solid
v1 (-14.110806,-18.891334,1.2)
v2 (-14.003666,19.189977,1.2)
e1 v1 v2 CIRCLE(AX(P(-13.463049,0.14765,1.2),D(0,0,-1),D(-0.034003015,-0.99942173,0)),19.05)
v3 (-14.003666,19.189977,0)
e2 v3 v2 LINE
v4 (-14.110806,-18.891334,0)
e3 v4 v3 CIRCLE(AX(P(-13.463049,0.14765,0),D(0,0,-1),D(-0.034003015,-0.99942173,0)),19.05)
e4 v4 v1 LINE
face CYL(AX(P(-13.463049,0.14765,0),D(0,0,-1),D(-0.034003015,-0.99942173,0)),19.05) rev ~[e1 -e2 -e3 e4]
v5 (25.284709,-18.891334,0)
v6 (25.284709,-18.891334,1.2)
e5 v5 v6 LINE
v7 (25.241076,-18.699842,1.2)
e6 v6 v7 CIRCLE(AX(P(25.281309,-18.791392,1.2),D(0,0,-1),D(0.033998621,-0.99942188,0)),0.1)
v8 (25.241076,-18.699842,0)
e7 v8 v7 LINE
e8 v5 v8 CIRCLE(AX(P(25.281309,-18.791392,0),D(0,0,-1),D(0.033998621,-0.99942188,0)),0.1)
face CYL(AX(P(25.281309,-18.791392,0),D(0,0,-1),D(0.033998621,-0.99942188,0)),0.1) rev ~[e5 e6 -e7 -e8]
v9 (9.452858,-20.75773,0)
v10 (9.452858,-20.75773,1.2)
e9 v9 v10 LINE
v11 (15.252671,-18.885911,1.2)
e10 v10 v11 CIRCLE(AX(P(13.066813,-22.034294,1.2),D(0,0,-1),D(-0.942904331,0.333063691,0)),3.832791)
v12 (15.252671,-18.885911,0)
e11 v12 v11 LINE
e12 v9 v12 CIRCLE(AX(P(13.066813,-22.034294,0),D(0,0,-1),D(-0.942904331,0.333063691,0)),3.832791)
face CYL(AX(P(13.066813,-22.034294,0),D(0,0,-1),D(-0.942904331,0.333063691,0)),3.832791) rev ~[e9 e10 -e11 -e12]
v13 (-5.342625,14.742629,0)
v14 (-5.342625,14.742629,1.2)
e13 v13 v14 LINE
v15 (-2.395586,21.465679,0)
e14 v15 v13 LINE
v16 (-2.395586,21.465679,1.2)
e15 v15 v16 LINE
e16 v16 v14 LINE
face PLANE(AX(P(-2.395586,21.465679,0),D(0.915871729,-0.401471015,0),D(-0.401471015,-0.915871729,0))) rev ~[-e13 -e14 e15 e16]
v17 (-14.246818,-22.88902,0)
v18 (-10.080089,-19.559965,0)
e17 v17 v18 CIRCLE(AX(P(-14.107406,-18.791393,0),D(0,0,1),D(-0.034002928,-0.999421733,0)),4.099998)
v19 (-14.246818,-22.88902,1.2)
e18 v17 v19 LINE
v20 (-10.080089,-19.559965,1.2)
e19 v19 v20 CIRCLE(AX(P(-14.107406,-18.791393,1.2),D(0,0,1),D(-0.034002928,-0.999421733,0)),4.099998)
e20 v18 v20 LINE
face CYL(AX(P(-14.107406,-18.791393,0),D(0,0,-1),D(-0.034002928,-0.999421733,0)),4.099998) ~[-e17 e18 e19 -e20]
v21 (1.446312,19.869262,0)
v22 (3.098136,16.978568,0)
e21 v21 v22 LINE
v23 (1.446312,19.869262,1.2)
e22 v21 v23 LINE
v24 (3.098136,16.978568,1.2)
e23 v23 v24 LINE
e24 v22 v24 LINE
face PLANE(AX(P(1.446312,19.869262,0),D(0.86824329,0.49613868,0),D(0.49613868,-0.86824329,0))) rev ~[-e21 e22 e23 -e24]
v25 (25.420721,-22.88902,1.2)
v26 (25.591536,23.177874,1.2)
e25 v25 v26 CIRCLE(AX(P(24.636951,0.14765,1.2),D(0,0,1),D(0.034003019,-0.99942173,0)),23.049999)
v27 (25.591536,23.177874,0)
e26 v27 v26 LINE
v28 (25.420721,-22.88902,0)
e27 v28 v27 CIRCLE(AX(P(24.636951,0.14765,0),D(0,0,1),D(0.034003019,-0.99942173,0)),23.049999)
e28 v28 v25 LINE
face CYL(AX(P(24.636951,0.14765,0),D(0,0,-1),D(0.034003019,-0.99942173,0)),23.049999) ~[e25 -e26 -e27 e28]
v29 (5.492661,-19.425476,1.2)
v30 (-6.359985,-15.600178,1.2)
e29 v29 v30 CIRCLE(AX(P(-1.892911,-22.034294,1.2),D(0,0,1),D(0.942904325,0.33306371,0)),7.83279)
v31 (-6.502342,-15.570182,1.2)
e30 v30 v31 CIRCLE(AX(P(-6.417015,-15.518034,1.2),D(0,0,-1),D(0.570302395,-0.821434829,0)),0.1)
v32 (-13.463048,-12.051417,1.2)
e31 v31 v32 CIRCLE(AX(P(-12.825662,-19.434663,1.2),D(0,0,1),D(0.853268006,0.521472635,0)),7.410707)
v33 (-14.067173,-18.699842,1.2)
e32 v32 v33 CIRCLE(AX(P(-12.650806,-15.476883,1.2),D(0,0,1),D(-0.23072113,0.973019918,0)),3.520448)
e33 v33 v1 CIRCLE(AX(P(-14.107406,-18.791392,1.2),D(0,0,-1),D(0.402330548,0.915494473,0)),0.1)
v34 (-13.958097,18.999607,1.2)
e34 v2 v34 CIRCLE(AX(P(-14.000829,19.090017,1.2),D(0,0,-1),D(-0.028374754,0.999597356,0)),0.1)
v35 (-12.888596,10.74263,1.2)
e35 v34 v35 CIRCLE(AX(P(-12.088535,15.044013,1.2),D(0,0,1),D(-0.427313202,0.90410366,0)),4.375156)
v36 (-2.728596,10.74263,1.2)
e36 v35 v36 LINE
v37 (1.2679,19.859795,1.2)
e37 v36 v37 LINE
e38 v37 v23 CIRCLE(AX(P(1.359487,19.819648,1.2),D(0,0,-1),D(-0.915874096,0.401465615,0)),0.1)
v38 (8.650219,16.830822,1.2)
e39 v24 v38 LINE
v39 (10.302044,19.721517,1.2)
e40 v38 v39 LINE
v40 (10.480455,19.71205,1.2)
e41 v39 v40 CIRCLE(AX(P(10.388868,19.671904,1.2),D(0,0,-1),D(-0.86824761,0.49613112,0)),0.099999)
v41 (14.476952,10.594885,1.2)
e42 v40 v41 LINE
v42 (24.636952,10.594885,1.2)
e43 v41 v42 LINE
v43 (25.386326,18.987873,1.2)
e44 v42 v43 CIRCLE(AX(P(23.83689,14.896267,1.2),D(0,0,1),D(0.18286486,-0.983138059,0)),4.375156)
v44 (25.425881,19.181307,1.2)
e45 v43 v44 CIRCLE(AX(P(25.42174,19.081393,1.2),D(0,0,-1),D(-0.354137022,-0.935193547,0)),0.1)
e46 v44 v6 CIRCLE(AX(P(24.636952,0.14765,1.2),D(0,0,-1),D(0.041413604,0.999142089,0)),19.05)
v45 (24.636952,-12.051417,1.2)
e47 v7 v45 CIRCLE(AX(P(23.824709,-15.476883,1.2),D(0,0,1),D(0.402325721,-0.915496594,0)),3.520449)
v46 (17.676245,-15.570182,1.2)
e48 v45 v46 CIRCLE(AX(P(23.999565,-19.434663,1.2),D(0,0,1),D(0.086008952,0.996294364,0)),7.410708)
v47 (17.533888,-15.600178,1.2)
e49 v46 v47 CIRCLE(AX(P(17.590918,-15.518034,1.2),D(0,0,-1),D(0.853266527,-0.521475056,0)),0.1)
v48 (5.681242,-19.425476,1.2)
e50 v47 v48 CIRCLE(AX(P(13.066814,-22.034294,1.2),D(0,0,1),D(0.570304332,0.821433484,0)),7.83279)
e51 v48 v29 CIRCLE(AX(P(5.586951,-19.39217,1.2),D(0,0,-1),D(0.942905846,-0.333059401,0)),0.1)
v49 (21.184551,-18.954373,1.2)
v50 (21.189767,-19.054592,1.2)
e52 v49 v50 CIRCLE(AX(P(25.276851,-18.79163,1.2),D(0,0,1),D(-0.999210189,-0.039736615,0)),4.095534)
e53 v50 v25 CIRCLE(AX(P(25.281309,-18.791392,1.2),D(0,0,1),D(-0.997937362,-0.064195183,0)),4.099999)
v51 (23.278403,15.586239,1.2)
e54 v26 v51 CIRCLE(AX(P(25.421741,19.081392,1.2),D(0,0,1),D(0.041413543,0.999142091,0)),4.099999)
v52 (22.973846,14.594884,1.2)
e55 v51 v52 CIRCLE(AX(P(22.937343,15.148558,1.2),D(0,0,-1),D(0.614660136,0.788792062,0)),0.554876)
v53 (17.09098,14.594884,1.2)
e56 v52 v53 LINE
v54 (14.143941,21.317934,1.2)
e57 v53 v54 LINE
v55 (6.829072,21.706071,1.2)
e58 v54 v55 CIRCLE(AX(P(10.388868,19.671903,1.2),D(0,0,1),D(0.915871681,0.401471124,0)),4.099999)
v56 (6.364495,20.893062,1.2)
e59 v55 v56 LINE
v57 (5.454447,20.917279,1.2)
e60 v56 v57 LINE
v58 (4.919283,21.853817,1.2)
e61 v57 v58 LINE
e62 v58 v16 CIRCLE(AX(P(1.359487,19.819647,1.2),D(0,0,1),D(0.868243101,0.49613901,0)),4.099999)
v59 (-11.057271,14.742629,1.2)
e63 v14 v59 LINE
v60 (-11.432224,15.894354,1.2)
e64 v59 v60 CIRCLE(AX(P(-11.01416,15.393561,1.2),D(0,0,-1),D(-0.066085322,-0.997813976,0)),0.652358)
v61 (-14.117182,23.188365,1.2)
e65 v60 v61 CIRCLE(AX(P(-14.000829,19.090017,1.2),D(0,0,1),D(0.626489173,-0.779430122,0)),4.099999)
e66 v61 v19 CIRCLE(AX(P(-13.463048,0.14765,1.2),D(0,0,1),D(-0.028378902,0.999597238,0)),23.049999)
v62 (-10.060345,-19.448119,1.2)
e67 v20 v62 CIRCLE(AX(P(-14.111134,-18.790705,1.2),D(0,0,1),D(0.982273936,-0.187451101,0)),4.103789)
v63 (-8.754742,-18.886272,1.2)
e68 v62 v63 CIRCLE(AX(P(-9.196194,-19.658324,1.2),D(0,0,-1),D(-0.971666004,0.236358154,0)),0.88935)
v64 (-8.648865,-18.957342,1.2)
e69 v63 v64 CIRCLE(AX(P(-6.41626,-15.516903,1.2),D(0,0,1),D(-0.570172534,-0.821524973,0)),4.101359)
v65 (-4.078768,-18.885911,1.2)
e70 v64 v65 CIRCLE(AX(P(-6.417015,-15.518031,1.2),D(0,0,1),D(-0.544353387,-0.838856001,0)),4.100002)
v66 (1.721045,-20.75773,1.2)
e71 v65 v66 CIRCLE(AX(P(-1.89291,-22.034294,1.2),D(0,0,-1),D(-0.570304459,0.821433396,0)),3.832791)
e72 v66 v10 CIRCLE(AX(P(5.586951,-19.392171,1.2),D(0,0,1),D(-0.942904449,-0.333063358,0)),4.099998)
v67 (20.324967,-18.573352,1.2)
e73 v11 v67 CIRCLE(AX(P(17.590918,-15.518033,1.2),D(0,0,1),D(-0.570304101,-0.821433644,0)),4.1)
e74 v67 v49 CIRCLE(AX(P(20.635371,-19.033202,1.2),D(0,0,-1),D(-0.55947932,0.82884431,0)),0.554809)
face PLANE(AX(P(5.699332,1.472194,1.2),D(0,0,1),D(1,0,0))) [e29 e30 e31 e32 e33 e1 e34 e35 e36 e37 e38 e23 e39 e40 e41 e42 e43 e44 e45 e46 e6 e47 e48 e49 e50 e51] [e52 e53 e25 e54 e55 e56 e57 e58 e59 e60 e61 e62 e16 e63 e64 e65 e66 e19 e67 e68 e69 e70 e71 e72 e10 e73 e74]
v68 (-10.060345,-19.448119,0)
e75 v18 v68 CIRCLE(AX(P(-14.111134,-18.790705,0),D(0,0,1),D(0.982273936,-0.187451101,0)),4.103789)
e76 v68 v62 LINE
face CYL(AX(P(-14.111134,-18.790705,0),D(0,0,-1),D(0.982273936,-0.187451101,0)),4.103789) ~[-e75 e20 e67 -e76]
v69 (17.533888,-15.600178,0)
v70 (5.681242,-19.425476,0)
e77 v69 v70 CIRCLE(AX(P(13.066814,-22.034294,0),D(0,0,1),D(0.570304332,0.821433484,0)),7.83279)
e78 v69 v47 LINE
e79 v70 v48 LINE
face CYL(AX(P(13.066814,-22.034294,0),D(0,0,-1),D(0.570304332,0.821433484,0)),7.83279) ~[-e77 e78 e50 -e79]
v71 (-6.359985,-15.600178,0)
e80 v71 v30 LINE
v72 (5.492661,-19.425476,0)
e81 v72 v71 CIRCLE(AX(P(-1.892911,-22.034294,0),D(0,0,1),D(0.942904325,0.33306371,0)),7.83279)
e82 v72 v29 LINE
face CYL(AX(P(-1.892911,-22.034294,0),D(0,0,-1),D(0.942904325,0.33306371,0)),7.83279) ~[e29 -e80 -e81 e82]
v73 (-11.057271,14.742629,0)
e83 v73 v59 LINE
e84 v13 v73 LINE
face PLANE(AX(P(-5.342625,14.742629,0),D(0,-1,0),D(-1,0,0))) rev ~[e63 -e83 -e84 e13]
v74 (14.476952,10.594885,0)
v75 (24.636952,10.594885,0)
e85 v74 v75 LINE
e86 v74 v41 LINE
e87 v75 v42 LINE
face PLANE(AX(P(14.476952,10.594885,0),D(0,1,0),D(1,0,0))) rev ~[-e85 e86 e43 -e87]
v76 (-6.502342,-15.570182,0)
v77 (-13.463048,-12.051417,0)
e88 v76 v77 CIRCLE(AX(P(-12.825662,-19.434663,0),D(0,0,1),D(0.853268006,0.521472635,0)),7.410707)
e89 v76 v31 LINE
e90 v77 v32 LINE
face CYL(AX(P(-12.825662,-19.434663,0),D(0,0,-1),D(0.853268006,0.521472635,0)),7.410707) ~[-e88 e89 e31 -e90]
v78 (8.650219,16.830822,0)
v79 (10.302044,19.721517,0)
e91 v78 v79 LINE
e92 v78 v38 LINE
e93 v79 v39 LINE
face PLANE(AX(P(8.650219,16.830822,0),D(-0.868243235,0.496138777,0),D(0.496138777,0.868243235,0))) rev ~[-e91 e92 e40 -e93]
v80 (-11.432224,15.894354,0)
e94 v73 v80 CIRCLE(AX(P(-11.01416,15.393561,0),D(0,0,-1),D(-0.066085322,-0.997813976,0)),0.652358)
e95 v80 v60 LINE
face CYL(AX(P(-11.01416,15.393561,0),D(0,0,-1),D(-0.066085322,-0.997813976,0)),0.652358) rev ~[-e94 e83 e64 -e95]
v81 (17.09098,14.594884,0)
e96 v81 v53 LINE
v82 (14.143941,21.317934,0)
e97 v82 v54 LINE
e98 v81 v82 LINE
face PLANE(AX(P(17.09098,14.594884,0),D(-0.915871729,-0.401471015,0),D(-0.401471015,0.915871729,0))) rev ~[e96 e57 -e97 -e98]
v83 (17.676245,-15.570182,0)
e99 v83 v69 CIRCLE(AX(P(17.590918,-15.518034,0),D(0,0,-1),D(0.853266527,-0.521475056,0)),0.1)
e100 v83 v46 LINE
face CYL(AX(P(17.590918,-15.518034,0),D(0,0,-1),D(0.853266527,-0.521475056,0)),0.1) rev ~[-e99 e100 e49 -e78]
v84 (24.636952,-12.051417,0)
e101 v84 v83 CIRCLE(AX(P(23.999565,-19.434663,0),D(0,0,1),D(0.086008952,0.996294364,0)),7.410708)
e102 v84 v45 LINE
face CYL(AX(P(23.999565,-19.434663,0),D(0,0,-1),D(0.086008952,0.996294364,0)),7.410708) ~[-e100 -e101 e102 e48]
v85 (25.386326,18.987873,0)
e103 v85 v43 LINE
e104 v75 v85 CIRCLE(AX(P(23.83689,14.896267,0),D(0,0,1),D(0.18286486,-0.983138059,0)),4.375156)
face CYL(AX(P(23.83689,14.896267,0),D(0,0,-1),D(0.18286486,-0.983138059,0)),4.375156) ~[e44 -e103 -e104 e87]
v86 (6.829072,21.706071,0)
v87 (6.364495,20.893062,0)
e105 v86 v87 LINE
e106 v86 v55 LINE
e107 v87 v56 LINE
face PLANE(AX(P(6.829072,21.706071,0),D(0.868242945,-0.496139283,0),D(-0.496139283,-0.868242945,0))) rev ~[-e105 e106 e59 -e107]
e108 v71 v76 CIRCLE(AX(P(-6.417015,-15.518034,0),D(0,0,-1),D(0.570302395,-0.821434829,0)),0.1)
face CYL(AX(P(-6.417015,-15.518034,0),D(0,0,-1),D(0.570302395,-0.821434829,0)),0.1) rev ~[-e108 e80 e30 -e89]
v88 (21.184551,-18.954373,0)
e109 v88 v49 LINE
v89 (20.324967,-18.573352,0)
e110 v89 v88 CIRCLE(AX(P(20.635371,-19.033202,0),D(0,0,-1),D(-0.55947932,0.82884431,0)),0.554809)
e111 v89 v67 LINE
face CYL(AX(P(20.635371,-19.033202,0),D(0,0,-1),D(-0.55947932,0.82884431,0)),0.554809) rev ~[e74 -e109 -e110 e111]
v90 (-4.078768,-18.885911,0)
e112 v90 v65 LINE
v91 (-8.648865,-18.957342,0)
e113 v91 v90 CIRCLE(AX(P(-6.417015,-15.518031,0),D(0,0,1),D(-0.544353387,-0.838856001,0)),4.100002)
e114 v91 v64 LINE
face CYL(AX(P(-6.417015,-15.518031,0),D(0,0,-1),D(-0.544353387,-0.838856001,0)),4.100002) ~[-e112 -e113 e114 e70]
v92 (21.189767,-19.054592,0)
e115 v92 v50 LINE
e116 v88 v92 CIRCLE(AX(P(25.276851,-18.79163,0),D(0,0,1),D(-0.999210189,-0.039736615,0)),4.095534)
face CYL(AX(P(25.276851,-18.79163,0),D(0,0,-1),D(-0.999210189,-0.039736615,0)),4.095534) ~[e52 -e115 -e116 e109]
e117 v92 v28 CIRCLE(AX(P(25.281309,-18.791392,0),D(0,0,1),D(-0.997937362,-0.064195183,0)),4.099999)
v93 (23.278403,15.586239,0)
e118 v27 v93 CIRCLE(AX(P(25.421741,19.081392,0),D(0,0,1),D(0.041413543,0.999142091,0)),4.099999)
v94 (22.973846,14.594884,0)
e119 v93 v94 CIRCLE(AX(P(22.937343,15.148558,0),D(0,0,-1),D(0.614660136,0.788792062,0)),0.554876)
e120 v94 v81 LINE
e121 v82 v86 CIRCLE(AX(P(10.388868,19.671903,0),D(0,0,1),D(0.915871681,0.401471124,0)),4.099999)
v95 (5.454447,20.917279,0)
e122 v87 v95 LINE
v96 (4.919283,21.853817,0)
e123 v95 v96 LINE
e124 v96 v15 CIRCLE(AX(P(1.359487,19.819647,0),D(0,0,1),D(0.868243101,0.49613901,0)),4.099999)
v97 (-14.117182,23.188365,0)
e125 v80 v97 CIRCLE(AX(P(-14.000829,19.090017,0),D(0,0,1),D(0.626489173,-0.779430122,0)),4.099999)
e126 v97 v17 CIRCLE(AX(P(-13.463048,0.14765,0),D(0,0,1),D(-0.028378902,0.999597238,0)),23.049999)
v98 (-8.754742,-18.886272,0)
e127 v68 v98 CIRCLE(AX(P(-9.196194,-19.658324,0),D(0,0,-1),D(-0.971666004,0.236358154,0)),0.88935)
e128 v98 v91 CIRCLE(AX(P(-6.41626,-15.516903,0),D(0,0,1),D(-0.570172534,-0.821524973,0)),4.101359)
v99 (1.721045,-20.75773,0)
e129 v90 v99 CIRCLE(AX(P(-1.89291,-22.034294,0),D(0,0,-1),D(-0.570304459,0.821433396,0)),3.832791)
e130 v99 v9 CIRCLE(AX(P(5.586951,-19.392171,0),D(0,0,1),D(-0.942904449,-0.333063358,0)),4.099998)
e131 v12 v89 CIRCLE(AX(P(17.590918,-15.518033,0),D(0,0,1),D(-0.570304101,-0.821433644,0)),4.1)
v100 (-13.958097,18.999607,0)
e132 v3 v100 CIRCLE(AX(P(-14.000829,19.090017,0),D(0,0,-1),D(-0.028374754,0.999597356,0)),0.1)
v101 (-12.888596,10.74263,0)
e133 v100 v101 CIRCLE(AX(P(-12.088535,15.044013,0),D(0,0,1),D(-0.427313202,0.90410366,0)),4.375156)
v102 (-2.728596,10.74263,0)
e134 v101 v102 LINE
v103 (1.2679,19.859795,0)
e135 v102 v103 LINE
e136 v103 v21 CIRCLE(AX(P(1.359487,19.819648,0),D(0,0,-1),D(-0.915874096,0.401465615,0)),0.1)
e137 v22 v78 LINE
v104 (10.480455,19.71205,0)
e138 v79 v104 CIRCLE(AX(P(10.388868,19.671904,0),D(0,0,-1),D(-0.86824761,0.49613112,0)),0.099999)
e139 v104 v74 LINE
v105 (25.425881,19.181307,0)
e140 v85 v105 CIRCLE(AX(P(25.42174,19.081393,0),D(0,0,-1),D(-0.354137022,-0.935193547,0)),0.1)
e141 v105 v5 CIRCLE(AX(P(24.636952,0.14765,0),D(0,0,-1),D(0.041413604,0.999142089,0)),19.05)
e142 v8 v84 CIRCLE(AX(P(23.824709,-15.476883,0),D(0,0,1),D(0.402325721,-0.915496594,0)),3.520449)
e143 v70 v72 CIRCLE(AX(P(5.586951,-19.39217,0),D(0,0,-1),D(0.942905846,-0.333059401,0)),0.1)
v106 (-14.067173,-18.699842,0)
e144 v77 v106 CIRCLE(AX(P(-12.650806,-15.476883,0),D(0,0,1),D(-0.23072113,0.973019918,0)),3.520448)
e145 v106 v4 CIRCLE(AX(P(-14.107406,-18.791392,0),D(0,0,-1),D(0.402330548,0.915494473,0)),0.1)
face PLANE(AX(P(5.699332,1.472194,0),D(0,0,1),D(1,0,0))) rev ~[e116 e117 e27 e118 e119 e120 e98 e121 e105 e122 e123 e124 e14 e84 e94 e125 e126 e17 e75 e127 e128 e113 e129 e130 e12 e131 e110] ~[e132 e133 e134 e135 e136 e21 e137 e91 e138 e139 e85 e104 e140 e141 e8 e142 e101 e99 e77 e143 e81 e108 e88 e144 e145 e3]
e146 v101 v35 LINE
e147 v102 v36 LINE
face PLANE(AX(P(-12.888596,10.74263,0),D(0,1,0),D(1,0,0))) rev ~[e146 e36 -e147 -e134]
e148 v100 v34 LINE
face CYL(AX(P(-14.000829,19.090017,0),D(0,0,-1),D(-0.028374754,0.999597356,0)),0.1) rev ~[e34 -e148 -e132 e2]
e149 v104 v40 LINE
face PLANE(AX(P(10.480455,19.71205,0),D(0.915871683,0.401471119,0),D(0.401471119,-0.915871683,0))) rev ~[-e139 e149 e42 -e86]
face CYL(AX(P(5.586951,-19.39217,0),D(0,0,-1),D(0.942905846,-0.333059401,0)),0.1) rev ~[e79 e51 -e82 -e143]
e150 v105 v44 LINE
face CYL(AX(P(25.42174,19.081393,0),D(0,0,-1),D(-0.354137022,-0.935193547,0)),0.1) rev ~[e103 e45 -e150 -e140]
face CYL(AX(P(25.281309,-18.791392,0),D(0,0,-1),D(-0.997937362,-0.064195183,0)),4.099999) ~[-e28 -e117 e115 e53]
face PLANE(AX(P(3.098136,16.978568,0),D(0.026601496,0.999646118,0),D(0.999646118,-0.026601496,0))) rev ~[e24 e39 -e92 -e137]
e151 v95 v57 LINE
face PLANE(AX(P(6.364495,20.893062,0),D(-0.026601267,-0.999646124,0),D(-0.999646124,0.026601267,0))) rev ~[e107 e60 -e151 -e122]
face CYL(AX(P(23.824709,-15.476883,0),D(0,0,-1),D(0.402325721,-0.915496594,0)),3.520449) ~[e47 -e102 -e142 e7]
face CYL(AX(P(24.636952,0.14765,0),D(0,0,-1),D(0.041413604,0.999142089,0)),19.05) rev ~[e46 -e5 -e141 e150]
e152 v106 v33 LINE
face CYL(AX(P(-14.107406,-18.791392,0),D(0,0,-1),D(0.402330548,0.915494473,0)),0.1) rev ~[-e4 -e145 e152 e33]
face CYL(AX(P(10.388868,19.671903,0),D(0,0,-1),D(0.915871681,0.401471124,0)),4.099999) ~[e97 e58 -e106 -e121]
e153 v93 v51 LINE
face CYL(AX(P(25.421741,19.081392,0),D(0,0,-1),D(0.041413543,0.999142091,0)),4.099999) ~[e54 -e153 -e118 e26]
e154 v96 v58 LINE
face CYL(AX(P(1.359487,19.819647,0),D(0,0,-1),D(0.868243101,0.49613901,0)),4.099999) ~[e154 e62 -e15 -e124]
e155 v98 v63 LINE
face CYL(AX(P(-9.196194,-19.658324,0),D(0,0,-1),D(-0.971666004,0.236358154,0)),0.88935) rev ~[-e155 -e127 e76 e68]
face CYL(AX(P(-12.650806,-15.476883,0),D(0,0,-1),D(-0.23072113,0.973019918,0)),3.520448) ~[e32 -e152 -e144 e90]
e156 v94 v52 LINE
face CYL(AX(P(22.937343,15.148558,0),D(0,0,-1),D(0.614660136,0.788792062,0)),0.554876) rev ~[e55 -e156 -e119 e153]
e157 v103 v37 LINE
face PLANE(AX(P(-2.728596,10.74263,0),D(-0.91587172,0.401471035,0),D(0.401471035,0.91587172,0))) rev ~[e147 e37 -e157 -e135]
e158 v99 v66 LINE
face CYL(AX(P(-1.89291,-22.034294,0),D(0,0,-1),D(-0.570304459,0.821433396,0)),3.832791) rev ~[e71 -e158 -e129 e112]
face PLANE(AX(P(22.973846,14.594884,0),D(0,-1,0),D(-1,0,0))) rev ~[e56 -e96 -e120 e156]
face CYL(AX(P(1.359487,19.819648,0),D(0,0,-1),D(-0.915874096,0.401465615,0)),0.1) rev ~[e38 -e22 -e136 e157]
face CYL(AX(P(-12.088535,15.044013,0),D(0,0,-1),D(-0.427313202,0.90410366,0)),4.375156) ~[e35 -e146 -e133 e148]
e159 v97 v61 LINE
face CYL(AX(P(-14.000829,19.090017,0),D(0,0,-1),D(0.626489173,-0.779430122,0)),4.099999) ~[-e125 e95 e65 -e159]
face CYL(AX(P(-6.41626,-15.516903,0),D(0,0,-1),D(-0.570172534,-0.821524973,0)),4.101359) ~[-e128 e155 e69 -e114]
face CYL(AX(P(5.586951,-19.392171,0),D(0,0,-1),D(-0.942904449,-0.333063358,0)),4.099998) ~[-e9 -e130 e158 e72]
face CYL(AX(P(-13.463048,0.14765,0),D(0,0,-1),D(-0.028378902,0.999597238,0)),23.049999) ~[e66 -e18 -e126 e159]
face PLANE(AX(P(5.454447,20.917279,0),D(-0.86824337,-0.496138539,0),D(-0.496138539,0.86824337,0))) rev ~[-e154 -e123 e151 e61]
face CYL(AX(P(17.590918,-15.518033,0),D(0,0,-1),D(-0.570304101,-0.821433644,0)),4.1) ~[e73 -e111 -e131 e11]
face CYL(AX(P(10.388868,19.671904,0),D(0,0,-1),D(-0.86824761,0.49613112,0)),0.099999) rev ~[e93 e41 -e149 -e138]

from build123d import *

# Parameters (mm, degrees)
F1_DEPTH = 1.2


with BuildPart() as f1:
    # F0 (on Top) → F1 (new body)
    with BuildSketch(Plane.XY):
        with BuildLine():
            ThreePointArc((-11.057271, 14.742629), (-11.634473, 15.191614), (-11.432224, 15.894354))
            ThreePointArc((-11.432224, 15.894354), (-10.153228, 20.506336), (-14.117182, 23.188365))
            ThreePointArc((-14.117182, 23.188365), (-36.512956, 0.2125), (-14.246818, -22.88902))
            ThreePointArc((-14.246818, -22.88902), (-11.548187, -21.994576), (-10.080089, -19.559965))
            ThreePointArc((-10.080089, -19.559965), (-10.072004, -19.503727), (-10.060345, -19.448119))
            ThreePointArc((-10.060345, -19.448119), (-9.547743, -18.841405), (-8.754742, -18.886272))
            ThreePointArc((-8.754742, -18.886272), (-8.700528, -18.919907), (-8.648865, -18.957342))
            ThreePointArc((-8.648865, -18.957342), (-6.352939, -19.617532), (-4.078768, -18.885911))
            ThreePointArc((-4.078768, -18.885911), (-0.715713, -18.386761), (1.721045, -20.75773))
            ThreePointArc((1.721045, -20.75773), (5.586952, -23.492169), (9.452858, -20.75773))
            ThreePointArc((9.452858, -20.75773), (11.889616, -18.386761), (15.252671, -18.885911))
            ThreePointArc((15.252671, -18.885911), (17.843085, -19.610271), (20.324967, -18.573352))
            ThreePointArc((20.324967, -18.573352), (20.860199, -18.525989), (21.184551, -18.954373))
            ThreePointArc((21.184551, -18.954373), (21.18943, -19.004364), (21.189767, -19.054592))
            ThreePointArc((21.189767, -19.054592), (22.528031, -21.829393), (25.420721, -22.88902))
            ThreePointArc((25.420721, -22.88902), (47.686792, 0.062182), (25.591536, 23.177874))
            ThreePointArc((25.591536, 23.177874), (21.499758, 20.276401), (23.278403, 15.586239))
            ThreePointArc((23.278403, 15.586239), (23.467753, 14.985609), (22.973846, 14.594884))
            ThreePointArc((22.973846, 14.594884), (22.937343, 14.593682), (22.90084, 14.594884))
            Line((22.90084, 14.594884), (17.09098, 14.594884))
            Line((17.09098, 14.594884), (14.143941, 21.317934))
            ThreePointArc((14.143941, 21.317934), (10.606114, 23.766142), (6.829072, 21.706071))
            Line((6.829072, 21.706071), (6.364495, 20.893062))
            Line((6.364495, 20.893062), (5.454447, 20.917279))
            Line((5.454447, 20.917279), (4.919283, 21.853817))
            ThreePointArc((4.919283, 21.853817), (1.142241, 23.913887), (-2.395586, 21.465679))
            Line((-2.395586, 21.465679), (-5.342625, 14.742629))
            Line((-5.342625, 14.742629), (-10.971048, 14.742629))
            ThreePointArc((-10.971048, 14.742629), (-11.01416, 14.741203), (-11.057271, 14.742629))
        make_face()
        with BuildLine():
            ThreePointArc((-14.110806, -18.891334), (-32.512973, 0.201246), (-14.003666, 19.189977))
            ThreePointArc((-14.003666, 19.189977), (-13.903576, 19.113297), (-13.958097, 18.999607))
            ThreePointArc((-13.958097, 18.999607), (-16.427445, 14.482007), (-12.888596, 10.74263))
            Line((-12.888596, 10.74263), (-2.728596, 10.74263))
            Line((-2.728596, 10.74263), (1.2679, 19.859795))
            ThreePointArc((1.2679, 19.859795), (1.354189, 19.919508), (1.446312, 19.869262))
            Line((1.446312, 19.869262), (3.098136, 16.978568))
            Line((3.098136, 16.978568), (8.650219, 16.830822))
            Line((8.650219, 16.830822), (10.302044, 19.721517))
            ThreePointArc((10.302044, 19.721517), (10.394167, 19.771763), (10.480455, 19.71205))
            Line((10.480455, 19.71205), (14.476952, 10.594885))
            Line((14.476952, 10.594885), (24.636952, 10.594885))
            ThreePointArc((24.636952, 10.594885), (28.19471, 14.507176), (25.386326, 18.987873))
            ThreePointArc((25.386326, 18.987873), (25.323767, 19.101427), (25.425881, 19.181307))
            ThreePointArc((25.425881, 19.181307), (43.686821, 0.077013), (25.284709, -18.891334))
            ThreePointArc((25.284709, -18.891334), (25.183808, -18.813608), (25.241076, -18.699842))
            ThreePointArc((25.241076, -18.699842), (27.330713, -15.158302), (24.636952, -12.051417))
            ThreePointArc((24.636952, -12.051417), (20.65623, -12.820988), (17.676245, -15.570182))
            ThreePointArc((17.676245, -15.570182), (17.611536, -15.615886), (17.533888, -15.600178))
            ThreePointArc((17.533888, -15.600178), (10.661063, -14.580103), (5.681242, -19.425476))
            ThreePointArc((5.681242, -19.425476), (5.586952, -19.49217), (5.492661, -19.425476))
            ThreePointArc((5.492661, -19.425476), (0.51284, -14.580103), (-6.359985, -15.600178))
            ThreePointArc((-6.359985, -15.600178), (-6.437633, -15.615886), (-6.502342, -15.570182))
            ThreePointArc((-6.502342, -15.570182), (-9.482327, -12.820988), (-13.463048, -12.051417))
            ThreePointArc((-13.463048, -12.051417), (-16.15681, -15.158302), (-14.067173, -18.699842))
            ThreePointArc((-14.067173, -18.699842), (-14.009905, -18.813608), (-14.110806, -18.891334))
        make_face(mode=Mode.SUBTRACT)
        with BuildLine():
            Line((-10.971048, 14.742629), (-11.057271, 14.742629))
            ThreePointArc((-11.057271, 14.742629), (-11.01416, 14.741203), (-10.971048, 14.742629))
        make_face()
        with BuildLine():
            ThreePointArc((-10.060345, -19.448119), (-10.072004, -19.503727), (-10.080089, -19.559965))
            ThreePointArc((-10.080089, -19.559965), (-10.06983, -19.50411), (-10.060345, -19.448119))
        make_face()
        with BuildLine():
            ThreePointArc((-8.648865, -18.957342), (-8.700528, -18.919907), (-8.754742, -18.886272))
            ThreePointArc((-8.754742, -18.886272), (-8.702079, -18.922219), (-8.648865, -18.957342))
        make_face()
        with BuildLine():
            Line((22.973846, 14.594884), (22.90084, 14.594884))
            ThreePointArc((22.90084, 14.594884), (22.937343, 14.593682), (22.973846, 14.594884))
        make_face()
        with BuildLine():
            ThreePointArc((21.189767, -19.054592), (21.18943, -19.004364), (21.184551, -18.954373))
            ThreePointArc((21.184551, -18.954373), (21.186852, -19.004498), (21.189767, -19.054592))
        make_face()
    extrude(amount=F1_DEPTH)


solid = f1.part
